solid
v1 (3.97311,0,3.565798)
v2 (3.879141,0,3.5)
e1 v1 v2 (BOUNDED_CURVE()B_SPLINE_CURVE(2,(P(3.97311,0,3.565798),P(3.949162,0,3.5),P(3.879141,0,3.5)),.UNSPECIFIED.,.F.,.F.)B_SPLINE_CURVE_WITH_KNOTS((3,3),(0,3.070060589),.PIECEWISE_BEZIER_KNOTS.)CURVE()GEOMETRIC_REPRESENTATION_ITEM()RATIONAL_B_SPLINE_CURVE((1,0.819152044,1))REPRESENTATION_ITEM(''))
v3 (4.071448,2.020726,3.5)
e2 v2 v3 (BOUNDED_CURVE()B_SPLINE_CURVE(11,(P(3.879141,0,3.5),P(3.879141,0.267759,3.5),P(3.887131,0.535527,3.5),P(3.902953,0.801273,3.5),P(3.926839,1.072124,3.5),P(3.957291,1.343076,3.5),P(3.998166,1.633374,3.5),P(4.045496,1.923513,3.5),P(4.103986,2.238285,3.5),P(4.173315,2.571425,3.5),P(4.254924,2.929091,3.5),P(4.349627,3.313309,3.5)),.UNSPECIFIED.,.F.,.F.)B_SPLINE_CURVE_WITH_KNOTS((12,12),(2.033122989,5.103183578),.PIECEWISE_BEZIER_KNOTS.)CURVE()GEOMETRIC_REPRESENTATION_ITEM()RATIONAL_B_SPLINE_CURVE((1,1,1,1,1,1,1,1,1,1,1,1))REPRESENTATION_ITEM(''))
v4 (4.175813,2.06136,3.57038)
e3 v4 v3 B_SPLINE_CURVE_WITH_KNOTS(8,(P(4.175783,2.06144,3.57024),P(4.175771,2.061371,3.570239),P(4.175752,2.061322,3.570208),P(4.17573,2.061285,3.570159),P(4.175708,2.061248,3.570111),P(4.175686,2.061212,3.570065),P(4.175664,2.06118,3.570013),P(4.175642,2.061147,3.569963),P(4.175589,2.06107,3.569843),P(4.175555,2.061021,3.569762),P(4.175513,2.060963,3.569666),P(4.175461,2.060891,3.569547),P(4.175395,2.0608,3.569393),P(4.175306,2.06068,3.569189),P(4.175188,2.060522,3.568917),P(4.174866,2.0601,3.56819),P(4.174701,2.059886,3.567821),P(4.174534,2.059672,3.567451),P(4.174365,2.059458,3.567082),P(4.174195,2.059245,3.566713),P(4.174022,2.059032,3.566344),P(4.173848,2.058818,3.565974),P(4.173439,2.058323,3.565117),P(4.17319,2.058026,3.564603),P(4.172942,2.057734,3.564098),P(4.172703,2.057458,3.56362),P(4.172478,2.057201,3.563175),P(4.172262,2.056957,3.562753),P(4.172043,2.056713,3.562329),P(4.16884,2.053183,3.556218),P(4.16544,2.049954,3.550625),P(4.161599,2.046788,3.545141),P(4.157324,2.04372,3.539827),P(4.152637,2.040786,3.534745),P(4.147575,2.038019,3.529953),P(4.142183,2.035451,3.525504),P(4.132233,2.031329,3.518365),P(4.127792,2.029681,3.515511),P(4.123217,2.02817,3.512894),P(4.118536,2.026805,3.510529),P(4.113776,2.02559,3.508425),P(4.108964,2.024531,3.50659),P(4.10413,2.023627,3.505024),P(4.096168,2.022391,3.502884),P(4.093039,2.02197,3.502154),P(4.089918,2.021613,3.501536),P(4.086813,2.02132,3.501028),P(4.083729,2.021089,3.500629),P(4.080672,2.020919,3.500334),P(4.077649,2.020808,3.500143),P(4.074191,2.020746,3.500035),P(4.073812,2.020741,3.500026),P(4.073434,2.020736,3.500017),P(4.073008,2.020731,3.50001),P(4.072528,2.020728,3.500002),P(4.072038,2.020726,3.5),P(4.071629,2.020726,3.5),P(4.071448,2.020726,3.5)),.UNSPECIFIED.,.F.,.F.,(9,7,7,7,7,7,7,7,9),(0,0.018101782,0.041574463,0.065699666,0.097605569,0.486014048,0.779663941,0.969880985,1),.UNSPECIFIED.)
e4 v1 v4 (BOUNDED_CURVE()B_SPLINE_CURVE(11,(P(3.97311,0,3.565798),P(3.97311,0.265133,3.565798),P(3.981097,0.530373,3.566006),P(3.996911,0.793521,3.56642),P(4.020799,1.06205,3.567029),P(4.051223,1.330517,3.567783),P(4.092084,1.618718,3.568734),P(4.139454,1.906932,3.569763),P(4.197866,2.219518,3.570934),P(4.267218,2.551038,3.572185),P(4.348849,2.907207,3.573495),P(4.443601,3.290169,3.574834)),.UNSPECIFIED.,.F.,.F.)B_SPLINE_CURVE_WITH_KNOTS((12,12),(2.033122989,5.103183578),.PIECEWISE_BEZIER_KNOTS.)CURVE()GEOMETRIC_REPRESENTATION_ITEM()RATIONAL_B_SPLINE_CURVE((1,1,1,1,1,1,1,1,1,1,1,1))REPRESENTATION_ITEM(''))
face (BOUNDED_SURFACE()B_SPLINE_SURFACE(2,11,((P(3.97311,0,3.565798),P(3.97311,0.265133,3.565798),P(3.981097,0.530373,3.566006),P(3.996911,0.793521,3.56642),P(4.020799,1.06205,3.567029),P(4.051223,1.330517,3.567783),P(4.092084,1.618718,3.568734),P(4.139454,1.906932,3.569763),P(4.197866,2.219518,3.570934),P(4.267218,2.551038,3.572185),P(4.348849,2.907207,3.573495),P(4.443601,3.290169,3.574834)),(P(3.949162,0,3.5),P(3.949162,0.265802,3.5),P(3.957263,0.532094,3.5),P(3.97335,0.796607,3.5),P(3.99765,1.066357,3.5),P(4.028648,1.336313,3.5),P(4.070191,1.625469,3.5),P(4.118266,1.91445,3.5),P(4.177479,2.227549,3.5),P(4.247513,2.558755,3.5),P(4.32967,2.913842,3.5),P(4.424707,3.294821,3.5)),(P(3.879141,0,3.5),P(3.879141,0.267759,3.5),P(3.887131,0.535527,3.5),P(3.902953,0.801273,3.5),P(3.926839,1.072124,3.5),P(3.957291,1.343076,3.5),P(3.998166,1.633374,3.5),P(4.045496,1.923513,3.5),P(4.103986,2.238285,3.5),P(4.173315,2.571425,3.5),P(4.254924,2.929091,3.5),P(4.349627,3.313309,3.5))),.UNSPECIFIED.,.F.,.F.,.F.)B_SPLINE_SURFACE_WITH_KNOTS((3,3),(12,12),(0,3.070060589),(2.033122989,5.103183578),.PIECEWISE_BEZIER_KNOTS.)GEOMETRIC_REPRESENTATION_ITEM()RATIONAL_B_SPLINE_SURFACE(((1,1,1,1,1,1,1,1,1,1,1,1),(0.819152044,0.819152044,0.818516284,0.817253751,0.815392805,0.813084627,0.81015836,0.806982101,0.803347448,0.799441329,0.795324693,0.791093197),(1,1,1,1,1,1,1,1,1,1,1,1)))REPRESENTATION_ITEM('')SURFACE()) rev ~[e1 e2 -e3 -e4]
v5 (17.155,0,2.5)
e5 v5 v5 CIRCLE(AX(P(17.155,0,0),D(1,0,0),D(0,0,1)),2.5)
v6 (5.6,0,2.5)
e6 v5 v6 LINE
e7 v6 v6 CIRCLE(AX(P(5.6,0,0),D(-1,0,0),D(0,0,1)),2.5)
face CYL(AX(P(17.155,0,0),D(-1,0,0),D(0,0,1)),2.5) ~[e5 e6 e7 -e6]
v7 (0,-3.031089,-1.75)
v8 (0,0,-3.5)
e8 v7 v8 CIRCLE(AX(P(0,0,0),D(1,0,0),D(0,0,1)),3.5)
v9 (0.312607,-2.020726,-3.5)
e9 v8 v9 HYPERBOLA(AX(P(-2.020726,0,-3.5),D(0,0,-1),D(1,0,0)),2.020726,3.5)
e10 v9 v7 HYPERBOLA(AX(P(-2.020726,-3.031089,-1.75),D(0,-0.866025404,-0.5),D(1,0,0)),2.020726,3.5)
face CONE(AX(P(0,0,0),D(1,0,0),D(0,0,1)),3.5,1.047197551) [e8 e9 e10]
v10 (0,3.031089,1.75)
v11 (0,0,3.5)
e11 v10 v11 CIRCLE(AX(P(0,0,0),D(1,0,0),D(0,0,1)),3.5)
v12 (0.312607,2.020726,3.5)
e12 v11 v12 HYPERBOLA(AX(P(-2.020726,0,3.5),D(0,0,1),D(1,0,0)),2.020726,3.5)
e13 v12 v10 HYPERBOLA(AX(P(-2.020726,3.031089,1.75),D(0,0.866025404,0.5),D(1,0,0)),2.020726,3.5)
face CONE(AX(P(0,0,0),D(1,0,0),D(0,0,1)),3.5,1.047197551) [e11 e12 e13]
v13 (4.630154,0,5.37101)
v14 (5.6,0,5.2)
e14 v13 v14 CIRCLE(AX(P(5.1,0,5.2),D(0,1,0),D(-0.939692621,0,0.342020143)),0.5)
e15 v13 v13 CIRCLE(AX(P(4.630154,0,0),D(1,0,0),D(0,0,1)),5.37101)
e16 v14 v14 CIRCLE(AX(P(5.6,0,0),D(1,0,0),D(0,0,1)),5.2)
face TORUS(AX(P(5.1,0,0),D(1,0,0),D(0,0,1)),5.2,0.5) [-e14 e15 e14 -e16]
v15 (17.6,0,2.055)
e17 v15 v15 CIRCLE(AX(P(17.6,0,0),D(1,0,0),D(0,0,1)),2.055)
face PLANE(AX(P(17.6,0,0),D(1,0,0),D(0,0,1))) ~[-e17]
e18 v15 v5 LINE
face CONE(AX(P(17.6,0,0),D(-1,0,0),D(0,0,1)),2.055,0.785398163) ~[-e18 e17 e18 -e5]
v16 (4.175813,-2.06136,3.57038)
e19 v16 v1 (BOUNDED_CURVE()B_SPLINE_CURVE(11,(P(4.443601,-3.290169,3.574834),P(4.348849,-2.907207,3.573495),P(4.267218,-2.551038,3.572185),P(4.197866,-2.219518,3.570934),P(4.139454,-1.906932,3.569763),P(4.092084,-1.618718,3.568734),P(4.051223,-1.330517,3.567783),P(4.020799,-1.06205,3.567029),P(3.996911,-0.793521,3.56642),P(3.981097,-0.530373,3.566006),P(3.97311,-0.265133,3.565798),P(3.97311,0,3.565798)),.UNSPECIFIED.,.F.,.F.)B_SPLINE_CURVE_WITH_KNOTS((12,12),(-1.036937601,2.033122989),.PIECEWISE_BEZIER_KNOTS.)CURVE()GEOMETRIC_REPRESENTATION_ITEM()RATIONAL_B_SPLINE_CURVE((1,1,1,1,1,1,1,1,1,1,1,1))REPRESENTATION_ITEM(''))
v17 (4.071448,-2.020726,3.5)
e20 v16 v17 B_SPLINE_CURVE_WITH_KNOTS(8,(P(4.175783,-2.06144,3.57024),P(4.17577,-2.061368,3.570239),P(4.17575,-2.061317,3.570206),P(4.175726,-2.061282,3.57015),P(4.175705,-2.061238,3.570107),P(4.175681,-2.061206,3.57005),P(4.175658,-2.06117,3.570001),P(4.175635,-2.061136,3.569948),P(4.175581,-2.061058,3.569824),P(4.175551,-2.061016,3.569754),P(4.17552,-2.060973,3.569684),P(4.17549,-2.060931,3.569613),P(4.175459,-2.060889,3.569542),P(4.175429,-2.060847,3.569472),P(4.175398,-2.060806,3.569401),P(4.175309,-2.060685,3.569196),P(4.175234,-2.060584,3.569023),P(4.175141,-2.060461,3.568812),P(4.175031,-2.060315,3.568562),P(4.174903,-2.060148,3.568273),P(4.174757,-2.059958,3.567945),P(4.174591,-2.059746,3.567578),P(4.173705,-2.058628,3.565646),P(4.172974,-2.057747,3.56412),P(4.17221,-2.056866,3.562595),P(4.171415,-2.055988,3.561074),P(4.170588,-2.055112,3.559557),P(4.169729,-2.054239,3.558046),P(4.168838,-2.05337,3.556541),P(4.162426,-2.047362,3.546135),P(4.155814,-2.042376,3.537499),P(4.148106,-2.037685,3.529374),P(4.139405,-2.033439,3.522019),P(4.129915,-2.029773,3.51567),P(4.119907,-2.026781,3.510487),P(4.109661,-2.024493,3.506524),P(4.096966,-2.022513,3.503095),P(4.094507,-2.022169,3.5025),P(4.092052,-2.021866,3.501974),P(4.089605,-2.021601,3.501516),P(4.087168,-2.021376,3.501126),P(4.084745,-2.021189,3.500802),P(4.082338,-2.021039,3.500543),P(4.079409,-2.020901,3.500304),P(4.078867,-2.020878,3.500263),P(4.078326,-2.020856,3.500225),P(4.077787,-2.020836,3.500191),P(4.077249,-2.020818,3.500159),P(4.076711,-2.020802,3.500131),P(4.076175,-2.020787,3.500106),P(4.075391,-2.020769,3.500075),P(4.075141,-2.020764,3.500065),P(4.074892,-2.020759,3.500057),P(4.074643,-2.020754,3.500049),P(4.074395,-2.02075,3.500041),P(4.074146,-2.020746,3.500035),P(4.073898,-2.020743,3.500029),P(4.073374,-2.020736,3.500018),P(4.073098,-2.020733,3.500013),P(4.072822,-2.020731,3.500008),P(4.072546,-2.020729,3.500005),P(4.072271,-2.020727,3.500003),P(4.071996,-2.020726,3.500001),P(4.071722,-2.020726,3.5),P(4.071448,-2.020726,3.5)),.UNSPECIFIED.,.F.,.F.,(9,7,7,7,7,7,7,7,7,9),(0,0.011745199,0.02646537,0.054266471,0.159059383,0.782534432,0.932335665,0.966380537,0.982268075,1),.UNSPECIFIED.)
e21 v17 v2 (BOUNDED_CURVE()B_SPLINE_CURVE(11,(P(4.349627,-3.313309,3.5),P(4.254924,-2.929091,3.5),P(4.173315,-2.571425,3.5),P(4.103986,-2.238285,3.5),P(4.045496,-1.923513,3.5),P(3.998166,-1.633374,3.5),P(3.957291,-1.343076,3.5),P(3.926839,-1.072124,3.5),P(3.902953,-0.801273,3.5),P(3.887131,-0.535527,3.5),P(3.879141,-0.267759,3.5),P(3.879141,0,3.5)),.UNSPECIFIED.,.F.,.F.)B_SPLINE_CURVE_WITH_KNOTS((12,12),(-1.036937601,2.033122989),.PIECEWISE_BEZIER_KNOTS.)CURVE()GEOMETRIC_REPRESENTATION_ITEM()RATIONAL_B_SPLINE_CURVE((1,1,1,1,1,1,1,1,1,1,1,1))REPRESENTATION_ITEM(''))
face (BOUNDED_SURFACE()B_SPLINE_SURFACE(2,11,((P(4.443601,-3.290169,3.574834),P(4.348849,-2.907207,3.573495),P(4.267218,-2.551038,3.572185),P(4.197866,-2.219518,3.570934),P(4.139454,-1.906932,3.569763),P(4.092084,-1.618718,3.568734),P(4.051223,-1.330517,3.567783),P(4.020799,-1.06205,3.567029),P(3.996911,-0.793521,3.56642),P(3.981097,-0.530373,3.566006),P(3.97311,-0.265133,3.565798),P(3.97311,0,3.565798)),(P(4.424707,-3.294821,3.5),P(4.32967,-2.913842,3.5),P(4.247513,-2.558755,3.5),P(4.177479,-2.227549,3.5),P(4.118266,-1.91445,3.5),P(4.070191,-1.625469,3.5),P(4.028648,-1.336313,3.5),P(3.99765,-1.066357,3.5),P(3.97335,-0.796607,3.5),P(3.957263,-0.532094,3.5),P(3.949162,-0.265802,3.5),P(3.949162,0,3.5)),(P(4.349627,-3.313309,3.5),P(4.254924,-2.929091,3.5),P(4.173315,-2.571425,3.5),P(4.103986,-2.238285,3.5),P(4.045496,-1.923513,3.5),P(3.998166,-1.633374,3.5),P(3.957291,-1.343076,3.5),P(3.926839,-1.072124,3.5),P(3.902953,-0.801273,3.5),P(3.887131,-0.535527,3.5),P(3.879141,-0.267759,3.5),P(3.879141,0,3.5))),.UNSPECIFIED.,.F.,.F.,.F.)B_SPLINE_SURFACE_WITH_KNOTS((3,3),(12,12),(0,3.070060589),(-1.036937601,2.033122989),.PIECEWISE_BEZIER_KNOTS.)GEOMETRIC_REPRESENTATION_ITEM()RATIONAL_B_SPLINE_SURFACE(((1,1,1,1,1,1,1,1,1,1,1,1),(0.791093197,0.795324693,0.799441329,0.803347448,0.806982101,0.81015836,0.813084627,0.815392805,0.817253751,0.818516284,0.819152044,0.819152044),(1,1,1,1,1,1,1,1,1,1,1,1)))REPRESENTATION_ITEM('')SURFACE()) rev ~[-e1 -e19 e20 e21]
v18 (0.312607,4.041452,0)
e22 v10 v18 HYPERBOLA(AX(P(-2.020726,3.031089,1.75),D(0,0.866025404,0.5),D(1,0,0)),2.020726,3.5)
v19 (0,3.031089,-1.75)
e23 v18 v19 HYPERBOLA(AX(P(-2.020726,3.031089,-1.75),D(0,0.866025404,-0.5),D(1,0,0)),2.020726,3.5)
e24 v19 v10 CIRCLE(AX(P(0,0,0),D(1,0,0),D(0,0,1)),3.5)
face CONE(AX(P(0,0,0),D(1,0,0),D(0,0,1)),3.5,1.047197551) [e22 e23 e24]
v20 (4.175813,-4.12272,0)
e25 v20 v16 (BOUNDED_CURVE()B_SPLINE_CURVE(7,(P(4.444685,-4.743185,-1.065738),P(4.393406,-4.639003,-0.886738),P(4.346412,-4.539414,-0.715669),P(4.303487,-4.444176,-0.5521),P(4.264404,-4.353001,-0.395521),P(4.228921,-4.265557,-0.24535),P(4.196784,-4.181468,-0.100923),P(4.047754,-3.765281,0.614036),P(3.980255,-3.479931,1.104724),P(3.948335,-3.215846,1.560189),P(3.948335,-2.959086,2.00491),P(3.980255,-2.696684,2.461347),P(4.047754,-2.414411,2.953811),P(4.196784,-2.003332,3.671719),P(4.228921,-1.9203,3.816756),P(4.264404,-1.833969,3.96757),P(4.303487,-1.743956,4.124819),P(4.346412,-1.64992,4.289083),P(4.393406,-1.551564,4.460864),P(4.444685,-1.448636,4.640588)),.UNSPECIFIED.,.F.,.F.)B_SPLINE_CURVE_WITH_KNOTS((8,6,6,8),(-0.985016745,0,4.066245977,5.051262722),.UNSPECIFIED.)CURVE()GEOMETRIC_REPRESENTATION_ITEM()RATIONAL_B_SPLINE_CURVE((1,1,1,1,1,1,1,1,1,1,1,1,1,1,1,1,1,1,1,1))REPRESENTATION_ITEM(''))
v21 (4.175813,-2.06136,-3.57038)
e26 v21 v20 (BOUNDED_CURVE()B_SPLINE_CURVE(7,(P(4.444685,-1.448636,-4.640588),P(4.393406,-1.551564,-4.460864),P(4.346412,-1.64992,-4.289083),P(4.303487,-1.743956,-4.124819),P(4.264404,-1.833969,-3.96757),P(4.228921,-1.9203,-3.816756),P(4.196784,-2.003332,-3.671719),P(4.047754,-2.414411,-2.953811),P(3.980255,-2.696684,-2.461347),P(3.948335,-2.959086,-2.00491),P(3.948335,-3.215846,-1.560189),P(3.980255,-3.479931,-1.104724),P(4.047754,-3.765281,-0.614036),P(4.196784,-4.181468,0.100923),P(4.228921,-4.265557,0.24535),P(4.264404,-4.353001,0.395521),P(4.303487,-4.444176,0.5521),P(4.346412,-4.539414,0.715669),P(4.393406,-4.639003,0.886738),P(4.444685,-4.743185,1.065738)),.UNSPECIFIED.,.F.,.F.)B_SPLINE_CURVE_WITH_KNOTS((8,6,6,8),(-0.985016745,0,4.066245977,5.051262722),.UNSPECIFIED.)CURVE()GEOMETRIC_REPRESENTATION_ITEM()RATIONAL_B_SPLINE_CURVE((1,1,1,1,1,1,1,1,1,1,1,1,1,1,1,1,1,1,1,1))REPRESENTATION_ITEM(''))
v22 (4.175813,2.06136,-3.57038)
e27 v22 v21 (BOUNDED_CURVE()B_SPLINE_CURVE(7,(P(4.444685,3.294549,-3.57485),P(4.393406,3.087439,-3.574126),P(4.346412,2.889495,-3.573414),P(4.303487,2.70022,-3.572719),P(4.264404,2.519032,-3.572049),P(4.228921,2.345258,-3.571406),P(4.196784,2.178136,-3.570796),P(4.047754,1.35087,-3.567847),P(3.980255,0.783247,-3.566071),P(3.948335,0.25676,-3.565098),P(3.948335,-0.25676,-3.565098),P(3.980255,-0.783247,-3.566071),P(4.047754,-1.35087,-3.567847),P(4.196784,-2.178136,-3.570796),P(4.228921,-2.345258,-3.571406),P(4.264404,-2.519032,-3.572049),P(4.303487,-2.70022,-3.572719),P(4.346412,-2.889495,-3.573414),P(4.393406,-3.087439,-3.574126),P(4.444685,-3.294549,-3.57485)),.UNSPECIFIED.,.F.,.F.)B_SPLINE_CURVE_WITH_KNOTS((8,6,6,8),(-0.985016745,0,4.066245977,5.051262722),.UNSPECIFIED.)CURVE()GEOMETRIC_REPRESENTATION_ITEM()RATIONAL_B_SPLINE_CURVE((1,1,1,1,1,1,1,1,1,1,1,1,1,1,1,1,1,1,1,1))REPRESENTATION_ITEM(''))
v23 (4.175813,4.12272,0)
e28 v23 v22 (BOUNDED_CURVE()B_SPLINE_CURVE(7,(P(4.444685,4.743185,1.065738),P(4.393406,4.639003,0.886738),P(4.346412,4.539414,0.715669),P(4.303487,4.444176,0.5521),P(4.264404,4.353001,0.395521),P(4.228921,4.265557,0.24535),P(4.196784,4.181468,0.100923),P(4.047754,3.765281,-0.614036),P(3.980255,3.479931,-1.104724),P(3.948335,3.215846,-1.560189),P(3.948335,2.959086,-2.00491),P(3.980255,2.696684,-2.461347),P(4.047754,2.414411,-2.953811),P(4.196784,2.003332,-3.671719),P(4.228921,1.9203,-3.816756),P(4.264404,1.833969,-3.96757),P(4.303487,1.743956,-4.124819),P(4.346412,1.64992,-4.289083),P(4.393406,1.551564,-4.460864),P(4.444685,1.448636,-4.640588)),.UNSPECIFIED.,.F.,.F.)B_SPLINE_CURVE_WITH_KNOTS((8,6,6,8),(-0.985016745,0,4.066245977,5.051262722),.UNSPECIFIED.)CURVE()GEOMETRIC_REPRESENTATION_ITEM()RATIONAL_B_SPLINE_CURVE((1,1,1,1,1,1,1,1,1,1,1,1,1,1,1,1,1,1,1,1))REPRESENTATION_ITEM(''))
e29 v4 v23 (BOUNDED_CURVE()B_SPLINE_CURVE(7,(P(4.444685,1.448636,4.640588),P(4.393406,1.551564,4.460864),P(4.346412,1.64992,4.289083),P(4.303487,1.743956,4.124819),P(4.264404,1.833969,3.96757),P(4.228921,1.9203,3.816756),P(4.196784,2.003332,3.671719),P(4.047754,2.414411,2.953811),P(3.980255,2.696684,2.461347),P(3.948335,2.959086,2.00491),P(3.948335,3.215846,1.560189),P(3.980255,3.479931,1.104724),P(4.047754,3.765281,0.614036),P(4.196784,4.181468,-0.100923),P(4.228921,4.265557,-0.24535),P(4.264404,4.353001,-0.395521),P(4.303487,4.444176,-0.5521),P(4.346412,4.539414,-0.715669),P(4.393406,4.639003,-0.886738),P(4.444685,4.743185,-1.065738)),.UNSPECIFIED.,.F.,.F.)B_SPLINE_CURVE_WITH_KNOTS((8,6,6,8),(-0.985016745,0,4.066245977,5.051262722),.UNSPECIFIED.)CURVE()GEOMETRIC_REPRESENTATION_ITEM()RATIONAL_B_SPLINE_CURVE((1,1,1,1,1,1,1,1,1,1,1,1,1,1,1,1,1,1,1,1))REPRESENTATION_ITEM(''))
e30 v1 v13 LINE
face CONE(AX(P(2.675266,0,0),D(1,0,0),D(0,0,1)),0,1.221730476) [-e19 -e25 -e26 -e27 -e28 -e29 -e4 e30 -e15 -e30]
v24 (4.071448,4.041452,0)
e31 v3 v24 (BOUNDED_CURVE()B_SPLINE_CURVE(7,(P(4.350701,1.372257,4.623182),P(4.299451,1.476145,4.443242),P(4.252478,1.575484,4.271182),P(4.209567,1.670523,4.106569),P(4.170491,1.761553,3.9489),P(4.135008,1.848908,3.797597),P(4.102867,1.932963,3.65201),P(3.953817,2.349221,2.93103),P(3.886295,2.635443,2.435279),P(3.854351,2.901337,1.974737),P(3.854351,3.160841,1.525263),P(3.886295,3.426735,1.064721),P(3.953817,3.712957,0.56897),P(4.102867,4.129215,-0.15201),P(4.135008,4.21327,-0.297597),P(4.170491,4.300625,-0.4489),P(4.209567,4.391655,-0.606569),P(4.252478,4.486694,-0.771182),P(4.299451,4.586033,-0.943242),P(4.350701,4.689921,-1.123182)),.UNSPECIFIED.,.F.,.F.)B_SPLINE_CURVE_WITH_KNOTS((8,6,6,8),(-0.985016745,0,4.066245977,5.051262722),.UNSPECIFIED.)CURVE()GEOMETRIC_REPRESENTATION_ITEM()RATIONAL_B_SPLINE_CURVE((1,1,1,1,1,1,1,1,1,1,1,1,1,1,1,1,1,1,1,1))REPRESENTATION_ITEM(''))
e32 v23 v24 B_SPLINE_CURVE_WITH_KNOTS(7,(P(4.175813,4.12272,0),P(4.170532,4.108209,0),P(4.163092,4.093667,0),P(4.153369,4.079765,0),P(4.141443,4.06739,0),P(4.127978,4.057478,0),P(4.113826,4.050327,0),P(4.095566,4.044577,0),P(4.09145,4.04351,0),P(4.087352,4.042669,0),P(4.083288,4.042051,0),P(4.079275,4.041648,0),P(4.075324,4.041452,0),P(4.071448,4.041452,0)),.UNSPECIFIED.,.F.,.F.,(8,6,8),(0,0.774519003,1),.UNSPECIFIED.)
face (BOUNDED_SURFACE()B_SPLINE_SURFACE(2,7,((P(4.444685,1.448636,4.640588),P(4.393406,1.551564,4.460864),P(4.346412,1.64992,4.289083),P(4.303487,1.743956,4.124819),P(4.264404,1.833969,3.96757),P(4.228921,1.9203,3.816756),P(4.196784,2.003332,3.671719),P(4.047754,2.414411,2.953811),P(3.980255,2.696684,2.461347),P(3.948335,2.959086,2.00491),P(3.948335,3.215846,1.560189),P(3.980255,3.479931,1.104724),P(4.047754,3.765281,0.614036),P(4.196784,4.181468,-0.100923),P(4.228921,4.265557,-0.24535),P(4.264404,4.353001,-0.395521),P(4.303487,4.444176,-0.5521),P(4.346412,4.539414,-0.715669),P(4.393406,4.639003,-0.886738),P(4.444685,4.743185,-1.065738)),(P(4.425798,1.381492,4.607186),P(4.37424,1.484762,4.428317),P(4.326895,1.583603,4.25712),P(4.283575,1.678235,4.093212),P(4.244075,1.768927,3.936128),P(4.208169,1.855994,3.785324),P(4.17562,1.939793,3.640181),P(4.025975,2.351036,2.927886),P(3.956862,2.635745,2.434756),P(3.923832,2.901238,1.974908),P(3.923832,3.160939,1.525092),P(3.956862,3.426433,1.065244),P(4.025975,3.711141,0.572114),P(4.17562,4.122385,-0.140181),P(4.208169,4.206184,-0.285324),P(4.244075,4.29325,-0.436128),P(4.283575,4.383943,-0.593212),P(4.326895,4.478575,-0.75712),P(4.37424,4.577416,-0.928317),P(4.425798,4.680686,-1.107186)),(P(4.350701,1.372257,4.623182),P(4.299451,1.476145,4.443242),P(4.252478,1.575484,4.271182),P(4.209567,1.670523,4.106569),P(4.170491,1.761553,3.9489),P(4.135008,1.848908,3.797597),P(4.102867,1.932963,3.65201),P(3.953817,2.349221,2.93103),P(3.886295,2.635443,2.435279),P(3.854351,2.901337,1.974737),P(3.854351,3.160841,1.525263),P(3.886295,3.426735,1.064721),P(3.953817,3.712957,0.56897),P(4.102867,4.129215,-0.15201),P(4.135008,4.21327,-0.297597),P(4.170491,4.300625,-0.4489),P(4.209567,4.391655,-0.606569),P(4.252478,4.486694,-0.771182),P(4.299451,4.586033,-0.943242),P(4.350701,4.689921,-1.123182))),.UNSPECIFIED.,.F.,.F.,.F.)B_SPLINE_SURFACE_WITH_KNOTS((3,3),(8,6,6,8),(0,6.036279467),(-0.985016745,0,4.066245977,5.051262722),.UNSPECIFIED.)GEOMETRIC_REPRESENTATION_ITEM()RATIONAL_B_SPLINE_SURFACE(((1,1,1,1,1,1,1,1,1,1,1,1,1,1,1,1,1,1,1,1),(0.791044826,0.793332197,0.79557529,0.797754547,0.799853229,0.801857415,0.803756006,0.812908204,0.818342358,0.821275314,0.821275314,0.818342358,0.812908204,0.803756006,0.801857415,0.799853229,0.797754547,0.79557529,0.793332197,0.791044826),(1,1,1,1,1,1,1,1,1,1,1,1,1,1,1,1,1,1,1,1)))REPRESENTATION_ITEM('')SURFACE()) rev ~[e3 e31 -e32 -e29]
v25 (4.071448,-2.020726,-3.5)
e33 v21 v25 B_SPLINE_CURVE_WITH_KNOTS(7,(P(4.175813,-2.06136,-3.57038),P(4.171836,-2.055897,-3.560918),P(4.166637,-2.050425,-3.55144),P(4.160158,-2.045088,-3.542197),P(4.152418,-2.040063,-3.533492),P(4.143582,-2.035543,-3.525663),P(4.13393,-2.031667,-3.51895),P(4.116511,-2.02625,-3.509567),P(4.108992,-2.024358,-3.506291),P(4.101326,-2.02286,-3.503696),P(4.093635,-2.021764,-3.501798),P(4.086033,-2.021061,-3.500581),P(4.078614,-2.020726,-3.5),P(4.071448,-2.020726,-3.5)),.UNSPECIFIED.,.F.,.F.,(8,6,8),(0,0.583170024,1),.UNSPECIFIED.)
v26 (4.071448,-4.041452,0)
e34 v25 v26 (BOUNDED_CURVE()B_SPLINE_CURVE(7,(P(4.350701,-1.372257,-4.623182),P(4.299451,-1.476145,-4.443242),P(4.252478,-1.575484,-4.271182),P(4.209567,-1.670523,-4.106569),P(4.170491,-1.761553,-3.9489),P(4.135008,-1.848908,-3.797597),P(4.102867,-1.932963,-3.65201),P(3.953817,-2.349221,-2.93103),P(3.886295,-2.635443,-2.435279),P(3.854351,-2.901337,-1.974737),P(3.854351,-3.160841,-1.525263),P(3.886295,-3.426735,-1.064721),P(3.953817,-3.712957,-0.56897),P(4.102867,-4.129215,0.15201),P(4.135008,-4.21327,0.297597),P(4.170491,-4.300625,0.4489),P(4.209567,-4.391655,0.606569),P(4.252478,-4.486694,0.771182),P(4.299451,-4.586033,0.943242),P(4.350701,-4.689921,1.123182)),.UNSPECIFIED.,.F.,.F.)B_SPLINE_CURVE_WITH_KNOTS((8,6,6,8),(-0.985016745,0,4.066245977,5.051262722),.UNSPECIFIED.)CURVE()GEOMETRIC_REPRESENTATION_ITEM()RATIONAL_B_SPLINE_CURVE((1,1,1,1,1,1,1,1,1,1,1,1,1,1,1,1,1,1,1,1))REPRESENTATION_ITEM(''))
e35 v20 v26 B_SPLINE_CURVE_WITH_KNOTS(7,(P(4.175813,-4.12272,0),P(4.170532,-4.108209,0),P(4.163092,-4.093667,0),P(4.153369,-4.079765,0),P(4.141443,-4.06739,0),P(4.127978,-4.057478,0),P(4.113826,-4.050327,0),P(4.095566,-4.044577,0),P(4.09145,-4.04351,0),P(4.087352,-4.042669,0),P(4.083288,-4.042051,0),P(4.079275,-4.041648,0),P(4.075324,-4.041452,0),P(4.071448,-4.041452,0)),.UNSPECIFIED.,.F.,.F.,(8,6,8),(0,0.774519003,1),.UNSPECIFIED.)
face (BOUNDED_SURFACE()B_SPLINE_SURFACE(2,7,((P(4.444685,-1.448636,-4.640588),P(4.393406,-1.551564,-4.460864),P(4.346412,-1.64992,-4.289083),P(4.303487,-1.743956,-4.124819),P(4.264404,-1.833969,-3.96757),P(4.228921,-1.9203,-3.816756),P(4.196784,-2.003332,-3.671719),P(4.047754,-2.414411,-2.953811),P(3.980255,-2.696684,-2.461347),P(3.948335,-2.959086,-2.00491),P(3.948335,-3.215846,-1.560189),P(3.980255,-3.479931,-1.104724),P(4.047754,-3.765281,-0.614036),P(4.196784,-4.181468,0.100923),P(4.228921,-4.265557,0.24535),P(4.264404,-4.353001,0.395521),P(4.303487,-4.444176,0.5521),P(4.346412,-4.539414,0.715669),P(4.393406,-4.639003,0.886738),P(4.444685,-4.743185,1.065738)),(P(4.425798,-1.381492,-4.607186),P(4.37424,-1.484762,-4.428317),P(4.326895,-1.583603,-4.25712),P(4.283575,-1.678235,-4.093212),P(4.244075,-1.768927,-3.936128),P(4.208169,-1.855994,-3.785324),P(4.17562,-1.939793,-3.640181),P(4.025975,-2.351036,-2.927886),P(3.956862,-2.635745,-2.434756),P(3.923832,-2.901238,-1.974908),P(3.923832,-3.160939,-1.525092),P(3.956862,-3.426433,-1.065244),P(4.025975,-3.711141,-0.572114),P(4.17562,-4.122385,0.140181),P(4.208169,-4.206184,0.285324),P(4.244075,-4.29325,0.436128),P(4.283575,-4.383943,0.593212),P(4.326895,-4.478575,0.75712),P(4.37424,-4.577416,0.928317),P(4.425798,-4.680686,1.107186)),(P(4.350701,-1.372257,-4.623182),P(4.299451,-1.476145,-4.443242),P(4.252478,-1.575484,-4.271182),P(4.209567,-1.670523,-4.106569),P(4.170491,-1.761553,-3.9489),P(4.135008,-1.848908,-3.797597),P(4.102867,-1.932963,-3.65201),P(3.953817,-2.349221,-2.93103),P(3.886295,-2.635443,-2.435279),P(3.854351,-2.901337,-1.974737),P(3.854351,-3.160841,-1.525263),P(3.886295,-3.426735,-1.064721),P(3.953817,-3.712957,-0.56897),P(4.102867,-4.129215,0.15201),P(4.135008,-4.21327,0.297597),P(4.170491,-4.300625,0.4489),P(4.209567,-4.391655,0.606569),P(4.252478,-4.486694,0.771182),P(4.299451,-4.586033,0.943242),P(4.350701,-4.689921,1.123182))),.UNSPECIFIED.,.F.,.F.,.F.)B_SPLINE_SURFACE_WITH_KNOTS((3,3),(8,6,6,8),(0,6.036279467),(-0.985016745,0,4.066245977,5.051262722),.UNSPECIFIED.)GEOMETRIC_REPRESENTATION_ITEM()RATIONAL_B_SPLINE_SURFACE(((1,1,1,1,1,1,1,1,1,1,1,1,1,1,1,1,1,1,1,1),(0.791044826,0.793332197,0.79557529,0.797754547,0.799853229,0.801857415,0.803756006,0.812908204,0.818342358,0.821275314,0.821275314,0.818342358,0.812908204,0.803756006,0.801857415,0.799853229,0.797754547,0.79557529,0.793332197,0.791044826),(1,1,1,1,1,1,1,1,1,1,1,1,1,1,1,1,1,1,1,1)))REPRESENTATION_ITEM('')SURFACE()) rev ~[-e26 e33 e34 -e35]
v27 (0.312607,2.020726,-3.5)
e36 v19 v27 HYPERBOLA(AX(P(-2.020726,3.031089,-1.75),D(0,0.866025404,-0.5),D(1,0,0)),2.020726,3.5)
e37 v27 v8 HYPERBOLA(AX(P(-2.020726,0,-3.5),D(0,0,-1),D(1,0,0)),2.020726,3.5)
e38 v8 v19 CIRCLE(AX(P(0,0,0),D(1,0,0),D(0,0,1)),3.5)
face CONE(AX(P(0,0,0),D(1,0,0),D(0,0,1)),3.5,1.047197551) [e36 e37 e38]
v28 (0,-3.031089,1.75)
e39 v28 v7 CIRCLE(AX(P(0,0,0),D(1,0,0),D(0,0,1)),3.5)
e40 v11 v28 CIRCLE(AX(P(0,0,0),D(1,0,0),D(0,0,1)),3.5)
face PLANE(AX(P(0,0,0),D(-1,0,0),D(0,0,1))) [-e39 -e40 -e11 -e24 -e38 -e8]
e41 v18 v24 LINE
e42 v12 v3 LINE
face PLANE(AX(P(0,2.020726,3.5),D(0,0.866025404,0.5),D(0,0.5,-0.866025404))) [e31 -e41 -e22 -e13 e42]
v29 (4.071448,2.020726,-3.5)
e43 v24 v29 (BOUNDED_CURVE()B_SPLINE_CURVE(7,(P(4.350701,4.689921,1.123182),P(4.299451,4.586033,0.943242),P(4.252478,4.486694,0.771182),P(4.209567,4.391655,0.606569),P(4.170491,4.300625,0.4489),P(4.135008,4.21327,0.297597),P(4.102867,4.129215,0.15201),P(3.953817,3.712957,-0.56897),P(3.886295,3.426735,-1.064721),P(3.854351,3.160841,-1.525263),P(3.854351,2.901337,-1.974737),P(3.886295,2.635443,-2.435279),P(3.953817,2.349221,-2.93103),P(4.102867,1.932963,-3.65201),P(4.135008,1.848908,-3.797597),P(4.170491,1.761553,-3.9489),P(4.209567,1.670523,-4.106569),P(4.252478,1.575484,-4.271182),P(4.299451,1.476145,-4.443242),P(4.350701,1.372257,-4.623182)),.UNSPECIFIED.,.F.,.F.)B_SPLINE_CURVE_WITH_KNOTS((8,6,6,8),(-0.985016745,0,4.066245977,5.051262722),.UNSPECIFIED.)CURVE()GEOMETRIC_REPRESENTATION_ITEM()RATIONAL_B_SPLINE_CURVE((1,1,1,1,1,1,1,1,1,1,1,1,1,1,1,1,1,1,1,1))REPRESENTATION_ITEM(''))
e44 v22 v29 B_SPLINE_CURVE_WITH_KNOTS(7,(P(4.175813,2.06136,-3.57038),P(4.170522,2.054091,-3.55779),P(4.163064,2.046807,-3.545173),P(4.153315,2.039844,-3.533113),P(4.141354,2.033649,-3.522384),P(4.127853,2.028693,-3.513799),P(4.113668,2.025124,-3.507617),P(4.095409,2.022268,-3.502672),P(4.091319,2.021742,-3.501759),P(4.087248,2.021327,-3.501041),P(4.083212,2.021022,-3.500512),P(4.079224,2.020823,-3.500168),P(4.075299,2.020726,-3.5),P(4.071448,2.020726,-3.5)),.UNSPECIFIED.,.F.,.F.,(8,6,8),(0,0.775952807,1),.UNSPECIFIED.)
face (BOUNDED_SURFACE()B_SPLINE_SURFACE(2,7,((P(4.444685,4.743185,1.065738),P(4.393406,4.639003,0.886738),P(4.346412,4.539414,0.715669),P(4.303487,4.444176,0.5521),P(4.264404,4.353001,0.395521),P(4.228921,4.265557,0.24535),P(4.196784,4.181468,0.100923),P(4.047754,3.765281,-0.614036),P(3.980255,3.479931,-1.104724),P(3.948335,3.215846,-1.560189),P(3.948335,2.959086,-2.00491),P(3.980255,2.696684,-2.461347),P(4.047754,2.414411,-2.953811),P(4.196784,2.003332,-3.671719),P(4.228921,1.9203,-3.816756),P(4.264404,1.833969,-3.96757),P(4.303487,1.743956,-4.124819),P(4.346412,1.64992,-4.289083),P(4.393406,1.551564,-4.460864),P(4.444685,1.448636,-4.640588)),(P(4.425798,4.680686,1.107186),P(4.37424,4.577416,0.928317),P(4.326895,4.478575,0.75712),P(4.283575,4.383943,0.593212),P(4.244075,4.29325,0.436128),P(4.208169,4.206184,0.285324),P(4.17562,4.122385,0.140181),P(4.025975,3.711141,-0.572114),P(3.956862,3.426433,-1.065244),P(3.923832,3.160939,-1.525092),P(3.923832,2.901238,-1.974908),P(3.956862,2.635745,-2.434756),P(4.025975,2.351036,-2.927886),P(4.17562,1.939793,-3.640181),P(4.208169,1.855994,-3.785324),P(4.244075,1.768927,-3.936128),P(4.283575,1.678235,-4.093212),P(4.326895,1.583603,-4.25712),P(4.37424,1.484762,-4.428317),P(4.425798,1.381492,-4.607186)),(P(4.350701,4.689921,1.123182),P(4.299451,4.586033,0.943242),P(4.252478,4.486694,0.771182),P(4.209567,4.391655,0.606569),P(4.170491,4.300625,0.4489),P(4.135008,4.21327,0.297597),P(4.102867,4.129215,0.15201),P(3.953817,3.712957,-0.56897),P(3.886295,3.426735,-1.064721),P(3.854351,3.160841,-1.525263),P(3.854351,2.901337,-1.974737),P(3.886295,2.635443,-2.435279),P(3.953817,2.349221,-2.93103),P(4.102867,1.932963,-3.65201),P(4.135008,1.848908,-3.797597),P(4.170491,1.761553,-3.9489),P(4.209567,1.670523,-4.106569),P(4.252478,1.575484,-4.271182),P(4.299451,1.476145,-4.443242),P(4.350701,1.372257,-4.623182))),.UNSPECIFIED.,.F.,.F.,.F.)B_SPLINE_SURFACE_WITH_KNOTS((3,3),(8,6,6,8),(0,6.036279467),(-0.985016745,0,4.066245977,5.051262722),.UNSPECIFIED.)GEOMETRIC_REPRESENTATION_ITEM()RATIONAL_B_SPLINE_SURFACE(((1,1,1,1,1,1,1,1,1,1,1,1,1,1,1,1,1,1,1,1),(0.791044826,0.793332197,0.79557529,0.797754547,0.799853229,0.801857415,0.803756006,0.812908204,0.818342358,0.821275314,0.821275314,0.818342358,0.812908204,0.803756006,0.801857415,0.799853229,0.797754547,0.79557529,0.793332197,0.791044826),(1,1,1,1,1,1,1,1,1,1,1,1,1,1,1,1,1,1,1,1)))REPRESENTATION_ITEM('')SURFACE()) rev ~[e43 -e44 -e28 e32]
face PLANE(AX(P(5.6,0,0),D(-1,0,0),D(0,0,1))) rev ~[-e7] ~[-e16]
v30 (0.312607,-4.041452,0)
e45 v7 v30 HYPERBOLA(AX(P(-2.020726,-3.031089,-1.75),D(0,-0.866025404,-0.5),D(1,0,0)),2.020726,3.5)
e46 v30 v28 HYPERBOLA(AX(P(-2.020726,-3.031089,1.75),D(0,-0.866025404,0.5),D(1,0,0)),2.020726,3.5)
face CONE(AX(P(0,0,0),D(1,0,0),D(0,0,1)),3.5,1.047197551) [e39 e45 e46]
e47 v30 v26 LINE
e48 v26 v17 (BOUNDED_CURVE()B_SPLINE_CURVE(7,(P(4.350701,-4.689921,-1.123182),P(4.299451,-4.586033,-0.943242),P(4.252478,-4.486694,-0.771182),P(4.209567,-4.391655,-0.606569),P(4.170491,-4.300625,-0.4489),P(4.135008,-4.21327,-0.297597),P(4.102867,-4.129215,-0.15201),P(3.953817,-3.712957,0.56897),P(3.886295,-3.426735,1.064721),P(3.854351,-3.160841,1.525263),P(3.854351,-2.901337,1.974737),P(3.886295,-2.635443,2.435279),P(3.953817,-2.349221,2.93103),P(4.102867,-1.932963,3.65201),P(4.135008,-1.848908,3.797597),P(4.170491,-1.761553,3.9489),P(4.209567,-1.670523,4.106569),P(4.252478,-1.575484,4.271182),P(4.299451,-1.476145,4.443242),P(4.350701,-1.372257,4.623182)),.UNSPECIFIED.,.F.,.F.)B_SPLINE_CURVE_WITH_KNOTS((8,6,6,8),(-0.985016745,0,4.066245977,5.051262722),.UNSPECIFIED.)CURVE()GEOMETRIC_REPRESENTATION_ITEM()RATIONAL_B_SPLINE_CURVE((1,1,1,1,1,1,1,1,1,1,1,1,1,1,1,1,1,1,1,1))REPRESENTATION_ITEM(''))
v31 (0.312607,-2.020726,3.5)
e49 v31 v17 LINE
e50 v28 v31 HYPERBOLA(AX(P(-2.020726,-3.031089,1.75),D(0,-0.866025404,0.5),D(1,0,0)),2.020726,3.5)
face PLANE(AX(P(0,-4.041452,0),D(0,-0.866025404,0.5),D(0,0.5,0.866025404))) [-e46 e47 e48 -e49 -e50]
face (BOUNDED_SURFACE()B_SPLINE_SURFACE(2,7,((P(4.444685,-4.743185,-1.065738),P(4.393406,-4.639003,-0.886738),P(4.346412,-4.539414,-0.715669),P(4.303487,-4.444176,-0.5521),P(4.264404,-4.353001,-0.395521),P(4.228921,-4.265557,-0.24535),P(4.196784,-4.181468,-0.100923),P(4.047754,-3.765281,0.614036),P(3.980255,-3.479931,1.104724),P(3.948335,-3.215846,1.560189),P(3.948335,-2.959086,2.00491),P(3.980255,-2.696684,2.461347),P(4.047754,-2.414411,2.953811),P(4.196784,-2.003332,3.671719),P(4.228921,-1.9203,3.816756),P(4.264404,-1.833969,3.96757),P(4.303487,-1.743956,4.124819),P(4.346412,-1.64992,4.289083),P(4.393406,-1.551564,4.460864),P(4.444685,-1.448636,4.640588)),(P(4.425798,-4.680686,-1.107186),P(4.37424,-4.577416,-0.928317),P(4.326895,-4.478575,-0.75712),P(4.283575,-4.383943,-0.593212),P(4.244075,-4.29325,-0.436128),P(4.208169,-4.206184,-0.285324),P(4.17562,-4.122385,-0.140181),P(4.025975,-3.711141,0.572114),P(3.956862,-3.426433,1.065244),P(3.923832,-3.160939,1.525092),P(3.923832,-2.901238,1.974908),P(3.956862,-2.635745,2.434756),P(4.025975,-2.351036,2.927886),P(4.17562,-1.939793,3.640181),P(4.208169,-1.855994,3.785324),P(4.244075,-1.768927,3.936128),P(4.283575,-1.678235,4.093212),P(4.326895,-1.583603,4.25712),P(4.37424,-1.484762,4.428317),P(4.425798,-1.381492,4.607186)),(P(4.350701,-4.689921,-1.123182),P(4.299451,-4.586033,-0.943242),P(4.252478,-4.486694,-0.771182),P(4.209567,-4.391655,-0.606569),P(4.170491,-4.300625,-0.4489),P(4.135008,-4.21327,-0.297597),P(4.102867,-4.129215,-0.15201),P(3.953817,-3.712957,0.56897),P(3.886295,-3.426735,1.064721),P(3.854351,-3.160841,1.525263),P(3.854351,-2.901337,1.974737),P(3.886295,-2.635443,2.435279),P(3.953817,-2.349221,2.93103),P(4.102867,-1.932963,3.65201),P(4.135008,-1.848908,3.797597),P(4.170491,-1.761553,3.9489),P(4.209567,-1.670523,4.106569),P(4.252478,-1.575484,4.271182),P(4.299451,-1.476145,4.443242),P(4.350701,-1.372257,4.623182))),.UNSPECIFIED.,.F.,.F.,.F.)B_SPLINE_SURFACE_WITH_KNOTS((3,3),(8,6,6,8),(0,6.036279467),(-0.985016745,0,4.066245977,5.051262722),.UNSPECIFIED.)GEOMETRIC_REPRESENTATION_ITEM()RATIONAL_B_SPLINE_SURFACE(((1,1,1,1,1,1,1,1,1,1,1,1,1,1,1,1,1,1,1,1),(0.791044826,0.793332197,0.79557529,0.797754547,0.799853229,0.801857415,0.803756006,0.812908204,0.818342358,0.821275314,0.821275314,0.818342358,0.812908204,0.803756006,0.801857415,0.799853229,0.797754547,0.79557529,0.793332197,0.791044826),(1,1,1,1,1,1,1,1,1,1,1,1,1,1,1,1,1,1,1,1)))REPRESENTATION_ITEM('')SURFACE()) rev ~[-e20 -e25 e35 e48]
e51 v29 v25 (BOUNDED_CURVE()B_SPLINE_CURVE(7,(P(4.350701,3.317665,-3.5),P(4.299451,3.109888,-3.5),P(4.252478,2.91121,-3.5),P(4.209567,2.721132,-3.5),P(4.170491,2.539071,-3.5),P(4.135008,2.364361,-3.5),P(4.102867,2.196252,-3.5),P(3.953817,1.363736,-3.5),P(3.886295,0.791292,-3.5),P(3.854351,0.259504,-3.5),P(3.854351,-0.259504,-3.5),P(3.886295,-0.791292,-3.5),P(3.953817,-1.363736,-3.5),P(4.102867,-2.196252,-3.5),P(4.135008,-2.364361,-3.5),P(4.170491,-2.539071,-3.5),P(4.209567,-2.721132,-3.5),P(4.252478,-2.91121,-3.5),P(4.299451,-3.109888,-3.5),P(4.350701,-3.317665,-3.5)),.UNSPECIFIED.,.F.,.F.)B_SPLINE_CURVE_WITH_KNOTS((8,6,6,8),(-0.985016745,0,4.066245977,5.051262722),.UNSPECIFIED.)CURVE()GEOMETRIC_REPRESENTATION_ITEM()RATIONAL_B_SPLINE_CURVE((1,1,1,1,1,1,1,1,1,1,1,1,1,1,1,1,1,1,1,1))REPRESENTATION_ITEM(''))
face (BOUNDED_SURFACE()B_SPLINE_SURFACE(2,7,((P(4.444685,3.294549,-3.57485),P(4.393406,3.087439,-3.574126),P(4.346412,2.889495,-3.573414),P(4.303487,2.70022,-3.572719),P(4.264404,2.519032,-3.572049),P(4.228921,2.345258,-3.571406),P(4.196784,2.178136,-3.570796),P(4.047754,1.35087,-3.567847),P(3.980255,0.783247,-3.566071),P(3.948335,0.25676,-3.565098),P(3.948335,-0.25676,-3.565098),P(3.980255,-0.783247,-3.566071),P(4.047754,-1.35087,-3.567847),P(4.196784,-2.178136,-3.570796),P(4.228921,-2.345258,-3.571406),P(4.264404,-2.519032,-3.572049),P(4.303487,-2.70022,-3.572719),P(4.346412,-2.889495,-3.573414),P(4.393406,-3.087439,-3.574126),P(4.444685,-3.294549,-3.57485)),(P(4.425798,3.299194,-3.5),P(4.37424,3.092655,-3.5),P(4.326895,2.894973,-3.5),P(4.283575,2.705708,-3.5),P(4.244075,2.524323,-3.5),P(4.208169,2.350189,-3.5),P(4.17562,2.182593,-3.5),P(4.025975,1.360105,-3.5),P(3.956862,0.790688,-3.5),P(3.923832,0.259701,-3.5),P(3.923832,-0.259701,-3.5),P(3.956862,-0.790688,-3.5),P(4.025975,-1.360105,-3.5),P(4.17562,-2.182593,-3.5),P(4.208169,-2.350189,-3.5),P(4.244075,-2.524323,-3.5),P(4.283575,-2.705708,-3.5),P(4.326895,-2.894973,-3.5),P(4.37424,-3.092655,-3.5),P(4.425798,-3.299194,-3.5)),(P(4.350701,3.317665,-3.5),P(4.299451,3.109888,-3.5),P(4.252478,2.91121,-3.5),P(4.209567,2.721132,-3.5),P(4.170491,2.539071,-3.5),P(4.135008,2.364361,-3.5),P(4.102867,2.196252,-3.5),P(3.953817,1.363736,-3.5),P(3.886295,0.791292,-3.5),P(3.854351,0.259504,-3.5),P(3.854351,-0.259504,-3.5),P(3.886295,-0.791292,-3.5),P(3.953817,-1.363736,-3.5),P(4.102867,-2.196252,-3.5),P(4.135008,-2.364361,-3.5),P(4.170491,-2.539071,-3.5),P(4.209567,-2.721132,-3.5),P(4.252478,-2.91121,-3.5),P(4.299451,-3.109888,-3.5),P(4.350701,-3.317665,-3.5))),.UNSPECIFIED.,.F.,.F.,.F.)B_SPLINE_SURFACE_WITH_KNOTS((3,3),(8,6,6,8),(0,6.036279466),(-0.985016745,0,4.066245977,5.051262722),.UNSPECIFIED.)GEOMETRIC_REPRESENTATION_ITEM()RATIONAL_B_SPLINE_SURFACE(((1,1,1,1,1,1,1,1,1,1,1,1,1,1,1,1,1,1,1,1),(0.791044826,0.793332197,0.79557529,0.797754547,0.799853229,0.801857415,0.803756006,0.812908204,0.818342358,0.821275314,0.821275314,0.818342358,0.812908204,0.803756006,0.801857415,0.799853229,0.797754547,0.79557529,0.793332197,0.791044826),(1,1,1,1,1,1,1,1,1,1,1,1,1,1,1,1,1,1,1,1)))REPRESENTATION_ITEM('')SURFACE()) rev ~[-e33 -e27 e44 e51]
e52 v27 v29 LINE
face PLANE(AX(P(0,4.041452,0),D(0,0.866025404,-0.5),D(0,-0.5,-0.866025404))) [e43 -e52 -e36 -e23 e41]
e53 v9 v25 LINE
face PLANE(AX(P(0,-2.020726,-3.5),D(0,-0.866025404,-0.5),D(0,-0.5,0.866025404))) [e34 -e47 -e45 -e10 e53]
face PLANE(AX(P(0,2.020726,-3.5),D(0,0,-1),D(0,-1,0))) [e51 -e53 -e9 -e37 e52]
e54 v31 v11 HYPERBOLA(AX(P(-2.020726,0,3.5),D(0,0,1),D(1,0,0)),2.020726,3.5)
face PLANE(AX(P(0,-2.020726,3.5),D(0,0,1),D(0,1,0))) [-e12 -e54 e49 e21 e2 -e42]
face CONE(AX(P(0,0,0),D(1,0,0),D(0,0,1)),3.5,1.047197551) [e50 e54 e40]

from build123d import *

# Parameters (mm, degrees)
BASEHEAD_DEPTH    = 5.6
FLANGEHEXFILLET_R = 0.1


with BuildPart() as part:
    # Sketch1 → BaseHead (new body)
    with BuildSketch(Plane(origin=(0, 0, 0), x_dir=(0, 0, -1), z_dir=(1, 0, 0))):
        Polygon((3.5, 2.020725942), (3.5, -2.020725942), (0, -4.041451884), (-3.5, -2.020725942), (-3.5, 2.020725942), (0, 4.041451884), align=None)
    extrude(amount=BASEHEAD_DEPTH)

    # BodySke → BaseBody (revolve)
    with BuildSketch(Plane.XY, mode=Mode.PRIVATE) as basebody_sk:
        Polygon((0, 0), (17.6, 0), (17.6, 2.055), (17.155, 2.5), (0, 2.5), align=None)
    revolve(basebody_sk.sketch.rotate(Axis((0, 0, 0), (1, 0, 0)), 90), axis=Axis((0, 0, 0), (1, 0, 0)))

    # Sketch3 → HeadChamfer (revolve, cut)
    with BuildSketch(Plane.XY, mode=Mode.PRIVATE) as headchamfer_sk:
        Polygon((0, 3.5), (3.199358737, 9.041451884), (3.199358737, 14.041451884), (-10, 14.041451884), (-10, 3.5), align=None)
    revolve(headchamfer_sk.sketch.rotate(Axis((0, 0, 0), (1, 0, 0)), 90), axis=Axis((0, 0, 0), (1, 0, 0)), mode=Mode.SUBTRACT)

    # Sketch4 → Flange (revolve)
    with BuildSketch(Plane.XY, mode=Mode.PRIVATE) as flange_sk:
        with BuildLine():
            Line((2.675265896, 0), (4.63015369, 5.371010072))
            ThreePointArc((4.63015369, 5.371010072), (5.186824089, 5.692403877), (5.6, 5.2))
            Line((5.6, 5.2), (5.6, 0))
            Line((5.6, 0), (2.675265896, 0))
        make_face()
    revolve(flange_sk.sketch.rotate(Axis((0, 0, 0), (1, 0, 0)), 90), axis=Axis((0, 0, 0), (1, 0, 0)))

    # FlangeHexFillet
    flangehexfillet_edges = [part.edges().sort_by_distance(p)[0] for p in [
        (3.949161716, 0, -3.5),
        (3.949161716, -3.031088913, -1.75),
        (4.001624527, 1.014770503, 3.5),
        (3.949161716, 3.031088913, 1.75),
        (3.949161716, 3.031088913, -1.75),
        (3.949161716, -3.031088913, 1.75),
        (4.001624527, -1.014770503, 3.5),
    ]]
    fillet(flangehexfillet_edges, radius=FLANGEHEXFILLET_R)


solid = part.part
